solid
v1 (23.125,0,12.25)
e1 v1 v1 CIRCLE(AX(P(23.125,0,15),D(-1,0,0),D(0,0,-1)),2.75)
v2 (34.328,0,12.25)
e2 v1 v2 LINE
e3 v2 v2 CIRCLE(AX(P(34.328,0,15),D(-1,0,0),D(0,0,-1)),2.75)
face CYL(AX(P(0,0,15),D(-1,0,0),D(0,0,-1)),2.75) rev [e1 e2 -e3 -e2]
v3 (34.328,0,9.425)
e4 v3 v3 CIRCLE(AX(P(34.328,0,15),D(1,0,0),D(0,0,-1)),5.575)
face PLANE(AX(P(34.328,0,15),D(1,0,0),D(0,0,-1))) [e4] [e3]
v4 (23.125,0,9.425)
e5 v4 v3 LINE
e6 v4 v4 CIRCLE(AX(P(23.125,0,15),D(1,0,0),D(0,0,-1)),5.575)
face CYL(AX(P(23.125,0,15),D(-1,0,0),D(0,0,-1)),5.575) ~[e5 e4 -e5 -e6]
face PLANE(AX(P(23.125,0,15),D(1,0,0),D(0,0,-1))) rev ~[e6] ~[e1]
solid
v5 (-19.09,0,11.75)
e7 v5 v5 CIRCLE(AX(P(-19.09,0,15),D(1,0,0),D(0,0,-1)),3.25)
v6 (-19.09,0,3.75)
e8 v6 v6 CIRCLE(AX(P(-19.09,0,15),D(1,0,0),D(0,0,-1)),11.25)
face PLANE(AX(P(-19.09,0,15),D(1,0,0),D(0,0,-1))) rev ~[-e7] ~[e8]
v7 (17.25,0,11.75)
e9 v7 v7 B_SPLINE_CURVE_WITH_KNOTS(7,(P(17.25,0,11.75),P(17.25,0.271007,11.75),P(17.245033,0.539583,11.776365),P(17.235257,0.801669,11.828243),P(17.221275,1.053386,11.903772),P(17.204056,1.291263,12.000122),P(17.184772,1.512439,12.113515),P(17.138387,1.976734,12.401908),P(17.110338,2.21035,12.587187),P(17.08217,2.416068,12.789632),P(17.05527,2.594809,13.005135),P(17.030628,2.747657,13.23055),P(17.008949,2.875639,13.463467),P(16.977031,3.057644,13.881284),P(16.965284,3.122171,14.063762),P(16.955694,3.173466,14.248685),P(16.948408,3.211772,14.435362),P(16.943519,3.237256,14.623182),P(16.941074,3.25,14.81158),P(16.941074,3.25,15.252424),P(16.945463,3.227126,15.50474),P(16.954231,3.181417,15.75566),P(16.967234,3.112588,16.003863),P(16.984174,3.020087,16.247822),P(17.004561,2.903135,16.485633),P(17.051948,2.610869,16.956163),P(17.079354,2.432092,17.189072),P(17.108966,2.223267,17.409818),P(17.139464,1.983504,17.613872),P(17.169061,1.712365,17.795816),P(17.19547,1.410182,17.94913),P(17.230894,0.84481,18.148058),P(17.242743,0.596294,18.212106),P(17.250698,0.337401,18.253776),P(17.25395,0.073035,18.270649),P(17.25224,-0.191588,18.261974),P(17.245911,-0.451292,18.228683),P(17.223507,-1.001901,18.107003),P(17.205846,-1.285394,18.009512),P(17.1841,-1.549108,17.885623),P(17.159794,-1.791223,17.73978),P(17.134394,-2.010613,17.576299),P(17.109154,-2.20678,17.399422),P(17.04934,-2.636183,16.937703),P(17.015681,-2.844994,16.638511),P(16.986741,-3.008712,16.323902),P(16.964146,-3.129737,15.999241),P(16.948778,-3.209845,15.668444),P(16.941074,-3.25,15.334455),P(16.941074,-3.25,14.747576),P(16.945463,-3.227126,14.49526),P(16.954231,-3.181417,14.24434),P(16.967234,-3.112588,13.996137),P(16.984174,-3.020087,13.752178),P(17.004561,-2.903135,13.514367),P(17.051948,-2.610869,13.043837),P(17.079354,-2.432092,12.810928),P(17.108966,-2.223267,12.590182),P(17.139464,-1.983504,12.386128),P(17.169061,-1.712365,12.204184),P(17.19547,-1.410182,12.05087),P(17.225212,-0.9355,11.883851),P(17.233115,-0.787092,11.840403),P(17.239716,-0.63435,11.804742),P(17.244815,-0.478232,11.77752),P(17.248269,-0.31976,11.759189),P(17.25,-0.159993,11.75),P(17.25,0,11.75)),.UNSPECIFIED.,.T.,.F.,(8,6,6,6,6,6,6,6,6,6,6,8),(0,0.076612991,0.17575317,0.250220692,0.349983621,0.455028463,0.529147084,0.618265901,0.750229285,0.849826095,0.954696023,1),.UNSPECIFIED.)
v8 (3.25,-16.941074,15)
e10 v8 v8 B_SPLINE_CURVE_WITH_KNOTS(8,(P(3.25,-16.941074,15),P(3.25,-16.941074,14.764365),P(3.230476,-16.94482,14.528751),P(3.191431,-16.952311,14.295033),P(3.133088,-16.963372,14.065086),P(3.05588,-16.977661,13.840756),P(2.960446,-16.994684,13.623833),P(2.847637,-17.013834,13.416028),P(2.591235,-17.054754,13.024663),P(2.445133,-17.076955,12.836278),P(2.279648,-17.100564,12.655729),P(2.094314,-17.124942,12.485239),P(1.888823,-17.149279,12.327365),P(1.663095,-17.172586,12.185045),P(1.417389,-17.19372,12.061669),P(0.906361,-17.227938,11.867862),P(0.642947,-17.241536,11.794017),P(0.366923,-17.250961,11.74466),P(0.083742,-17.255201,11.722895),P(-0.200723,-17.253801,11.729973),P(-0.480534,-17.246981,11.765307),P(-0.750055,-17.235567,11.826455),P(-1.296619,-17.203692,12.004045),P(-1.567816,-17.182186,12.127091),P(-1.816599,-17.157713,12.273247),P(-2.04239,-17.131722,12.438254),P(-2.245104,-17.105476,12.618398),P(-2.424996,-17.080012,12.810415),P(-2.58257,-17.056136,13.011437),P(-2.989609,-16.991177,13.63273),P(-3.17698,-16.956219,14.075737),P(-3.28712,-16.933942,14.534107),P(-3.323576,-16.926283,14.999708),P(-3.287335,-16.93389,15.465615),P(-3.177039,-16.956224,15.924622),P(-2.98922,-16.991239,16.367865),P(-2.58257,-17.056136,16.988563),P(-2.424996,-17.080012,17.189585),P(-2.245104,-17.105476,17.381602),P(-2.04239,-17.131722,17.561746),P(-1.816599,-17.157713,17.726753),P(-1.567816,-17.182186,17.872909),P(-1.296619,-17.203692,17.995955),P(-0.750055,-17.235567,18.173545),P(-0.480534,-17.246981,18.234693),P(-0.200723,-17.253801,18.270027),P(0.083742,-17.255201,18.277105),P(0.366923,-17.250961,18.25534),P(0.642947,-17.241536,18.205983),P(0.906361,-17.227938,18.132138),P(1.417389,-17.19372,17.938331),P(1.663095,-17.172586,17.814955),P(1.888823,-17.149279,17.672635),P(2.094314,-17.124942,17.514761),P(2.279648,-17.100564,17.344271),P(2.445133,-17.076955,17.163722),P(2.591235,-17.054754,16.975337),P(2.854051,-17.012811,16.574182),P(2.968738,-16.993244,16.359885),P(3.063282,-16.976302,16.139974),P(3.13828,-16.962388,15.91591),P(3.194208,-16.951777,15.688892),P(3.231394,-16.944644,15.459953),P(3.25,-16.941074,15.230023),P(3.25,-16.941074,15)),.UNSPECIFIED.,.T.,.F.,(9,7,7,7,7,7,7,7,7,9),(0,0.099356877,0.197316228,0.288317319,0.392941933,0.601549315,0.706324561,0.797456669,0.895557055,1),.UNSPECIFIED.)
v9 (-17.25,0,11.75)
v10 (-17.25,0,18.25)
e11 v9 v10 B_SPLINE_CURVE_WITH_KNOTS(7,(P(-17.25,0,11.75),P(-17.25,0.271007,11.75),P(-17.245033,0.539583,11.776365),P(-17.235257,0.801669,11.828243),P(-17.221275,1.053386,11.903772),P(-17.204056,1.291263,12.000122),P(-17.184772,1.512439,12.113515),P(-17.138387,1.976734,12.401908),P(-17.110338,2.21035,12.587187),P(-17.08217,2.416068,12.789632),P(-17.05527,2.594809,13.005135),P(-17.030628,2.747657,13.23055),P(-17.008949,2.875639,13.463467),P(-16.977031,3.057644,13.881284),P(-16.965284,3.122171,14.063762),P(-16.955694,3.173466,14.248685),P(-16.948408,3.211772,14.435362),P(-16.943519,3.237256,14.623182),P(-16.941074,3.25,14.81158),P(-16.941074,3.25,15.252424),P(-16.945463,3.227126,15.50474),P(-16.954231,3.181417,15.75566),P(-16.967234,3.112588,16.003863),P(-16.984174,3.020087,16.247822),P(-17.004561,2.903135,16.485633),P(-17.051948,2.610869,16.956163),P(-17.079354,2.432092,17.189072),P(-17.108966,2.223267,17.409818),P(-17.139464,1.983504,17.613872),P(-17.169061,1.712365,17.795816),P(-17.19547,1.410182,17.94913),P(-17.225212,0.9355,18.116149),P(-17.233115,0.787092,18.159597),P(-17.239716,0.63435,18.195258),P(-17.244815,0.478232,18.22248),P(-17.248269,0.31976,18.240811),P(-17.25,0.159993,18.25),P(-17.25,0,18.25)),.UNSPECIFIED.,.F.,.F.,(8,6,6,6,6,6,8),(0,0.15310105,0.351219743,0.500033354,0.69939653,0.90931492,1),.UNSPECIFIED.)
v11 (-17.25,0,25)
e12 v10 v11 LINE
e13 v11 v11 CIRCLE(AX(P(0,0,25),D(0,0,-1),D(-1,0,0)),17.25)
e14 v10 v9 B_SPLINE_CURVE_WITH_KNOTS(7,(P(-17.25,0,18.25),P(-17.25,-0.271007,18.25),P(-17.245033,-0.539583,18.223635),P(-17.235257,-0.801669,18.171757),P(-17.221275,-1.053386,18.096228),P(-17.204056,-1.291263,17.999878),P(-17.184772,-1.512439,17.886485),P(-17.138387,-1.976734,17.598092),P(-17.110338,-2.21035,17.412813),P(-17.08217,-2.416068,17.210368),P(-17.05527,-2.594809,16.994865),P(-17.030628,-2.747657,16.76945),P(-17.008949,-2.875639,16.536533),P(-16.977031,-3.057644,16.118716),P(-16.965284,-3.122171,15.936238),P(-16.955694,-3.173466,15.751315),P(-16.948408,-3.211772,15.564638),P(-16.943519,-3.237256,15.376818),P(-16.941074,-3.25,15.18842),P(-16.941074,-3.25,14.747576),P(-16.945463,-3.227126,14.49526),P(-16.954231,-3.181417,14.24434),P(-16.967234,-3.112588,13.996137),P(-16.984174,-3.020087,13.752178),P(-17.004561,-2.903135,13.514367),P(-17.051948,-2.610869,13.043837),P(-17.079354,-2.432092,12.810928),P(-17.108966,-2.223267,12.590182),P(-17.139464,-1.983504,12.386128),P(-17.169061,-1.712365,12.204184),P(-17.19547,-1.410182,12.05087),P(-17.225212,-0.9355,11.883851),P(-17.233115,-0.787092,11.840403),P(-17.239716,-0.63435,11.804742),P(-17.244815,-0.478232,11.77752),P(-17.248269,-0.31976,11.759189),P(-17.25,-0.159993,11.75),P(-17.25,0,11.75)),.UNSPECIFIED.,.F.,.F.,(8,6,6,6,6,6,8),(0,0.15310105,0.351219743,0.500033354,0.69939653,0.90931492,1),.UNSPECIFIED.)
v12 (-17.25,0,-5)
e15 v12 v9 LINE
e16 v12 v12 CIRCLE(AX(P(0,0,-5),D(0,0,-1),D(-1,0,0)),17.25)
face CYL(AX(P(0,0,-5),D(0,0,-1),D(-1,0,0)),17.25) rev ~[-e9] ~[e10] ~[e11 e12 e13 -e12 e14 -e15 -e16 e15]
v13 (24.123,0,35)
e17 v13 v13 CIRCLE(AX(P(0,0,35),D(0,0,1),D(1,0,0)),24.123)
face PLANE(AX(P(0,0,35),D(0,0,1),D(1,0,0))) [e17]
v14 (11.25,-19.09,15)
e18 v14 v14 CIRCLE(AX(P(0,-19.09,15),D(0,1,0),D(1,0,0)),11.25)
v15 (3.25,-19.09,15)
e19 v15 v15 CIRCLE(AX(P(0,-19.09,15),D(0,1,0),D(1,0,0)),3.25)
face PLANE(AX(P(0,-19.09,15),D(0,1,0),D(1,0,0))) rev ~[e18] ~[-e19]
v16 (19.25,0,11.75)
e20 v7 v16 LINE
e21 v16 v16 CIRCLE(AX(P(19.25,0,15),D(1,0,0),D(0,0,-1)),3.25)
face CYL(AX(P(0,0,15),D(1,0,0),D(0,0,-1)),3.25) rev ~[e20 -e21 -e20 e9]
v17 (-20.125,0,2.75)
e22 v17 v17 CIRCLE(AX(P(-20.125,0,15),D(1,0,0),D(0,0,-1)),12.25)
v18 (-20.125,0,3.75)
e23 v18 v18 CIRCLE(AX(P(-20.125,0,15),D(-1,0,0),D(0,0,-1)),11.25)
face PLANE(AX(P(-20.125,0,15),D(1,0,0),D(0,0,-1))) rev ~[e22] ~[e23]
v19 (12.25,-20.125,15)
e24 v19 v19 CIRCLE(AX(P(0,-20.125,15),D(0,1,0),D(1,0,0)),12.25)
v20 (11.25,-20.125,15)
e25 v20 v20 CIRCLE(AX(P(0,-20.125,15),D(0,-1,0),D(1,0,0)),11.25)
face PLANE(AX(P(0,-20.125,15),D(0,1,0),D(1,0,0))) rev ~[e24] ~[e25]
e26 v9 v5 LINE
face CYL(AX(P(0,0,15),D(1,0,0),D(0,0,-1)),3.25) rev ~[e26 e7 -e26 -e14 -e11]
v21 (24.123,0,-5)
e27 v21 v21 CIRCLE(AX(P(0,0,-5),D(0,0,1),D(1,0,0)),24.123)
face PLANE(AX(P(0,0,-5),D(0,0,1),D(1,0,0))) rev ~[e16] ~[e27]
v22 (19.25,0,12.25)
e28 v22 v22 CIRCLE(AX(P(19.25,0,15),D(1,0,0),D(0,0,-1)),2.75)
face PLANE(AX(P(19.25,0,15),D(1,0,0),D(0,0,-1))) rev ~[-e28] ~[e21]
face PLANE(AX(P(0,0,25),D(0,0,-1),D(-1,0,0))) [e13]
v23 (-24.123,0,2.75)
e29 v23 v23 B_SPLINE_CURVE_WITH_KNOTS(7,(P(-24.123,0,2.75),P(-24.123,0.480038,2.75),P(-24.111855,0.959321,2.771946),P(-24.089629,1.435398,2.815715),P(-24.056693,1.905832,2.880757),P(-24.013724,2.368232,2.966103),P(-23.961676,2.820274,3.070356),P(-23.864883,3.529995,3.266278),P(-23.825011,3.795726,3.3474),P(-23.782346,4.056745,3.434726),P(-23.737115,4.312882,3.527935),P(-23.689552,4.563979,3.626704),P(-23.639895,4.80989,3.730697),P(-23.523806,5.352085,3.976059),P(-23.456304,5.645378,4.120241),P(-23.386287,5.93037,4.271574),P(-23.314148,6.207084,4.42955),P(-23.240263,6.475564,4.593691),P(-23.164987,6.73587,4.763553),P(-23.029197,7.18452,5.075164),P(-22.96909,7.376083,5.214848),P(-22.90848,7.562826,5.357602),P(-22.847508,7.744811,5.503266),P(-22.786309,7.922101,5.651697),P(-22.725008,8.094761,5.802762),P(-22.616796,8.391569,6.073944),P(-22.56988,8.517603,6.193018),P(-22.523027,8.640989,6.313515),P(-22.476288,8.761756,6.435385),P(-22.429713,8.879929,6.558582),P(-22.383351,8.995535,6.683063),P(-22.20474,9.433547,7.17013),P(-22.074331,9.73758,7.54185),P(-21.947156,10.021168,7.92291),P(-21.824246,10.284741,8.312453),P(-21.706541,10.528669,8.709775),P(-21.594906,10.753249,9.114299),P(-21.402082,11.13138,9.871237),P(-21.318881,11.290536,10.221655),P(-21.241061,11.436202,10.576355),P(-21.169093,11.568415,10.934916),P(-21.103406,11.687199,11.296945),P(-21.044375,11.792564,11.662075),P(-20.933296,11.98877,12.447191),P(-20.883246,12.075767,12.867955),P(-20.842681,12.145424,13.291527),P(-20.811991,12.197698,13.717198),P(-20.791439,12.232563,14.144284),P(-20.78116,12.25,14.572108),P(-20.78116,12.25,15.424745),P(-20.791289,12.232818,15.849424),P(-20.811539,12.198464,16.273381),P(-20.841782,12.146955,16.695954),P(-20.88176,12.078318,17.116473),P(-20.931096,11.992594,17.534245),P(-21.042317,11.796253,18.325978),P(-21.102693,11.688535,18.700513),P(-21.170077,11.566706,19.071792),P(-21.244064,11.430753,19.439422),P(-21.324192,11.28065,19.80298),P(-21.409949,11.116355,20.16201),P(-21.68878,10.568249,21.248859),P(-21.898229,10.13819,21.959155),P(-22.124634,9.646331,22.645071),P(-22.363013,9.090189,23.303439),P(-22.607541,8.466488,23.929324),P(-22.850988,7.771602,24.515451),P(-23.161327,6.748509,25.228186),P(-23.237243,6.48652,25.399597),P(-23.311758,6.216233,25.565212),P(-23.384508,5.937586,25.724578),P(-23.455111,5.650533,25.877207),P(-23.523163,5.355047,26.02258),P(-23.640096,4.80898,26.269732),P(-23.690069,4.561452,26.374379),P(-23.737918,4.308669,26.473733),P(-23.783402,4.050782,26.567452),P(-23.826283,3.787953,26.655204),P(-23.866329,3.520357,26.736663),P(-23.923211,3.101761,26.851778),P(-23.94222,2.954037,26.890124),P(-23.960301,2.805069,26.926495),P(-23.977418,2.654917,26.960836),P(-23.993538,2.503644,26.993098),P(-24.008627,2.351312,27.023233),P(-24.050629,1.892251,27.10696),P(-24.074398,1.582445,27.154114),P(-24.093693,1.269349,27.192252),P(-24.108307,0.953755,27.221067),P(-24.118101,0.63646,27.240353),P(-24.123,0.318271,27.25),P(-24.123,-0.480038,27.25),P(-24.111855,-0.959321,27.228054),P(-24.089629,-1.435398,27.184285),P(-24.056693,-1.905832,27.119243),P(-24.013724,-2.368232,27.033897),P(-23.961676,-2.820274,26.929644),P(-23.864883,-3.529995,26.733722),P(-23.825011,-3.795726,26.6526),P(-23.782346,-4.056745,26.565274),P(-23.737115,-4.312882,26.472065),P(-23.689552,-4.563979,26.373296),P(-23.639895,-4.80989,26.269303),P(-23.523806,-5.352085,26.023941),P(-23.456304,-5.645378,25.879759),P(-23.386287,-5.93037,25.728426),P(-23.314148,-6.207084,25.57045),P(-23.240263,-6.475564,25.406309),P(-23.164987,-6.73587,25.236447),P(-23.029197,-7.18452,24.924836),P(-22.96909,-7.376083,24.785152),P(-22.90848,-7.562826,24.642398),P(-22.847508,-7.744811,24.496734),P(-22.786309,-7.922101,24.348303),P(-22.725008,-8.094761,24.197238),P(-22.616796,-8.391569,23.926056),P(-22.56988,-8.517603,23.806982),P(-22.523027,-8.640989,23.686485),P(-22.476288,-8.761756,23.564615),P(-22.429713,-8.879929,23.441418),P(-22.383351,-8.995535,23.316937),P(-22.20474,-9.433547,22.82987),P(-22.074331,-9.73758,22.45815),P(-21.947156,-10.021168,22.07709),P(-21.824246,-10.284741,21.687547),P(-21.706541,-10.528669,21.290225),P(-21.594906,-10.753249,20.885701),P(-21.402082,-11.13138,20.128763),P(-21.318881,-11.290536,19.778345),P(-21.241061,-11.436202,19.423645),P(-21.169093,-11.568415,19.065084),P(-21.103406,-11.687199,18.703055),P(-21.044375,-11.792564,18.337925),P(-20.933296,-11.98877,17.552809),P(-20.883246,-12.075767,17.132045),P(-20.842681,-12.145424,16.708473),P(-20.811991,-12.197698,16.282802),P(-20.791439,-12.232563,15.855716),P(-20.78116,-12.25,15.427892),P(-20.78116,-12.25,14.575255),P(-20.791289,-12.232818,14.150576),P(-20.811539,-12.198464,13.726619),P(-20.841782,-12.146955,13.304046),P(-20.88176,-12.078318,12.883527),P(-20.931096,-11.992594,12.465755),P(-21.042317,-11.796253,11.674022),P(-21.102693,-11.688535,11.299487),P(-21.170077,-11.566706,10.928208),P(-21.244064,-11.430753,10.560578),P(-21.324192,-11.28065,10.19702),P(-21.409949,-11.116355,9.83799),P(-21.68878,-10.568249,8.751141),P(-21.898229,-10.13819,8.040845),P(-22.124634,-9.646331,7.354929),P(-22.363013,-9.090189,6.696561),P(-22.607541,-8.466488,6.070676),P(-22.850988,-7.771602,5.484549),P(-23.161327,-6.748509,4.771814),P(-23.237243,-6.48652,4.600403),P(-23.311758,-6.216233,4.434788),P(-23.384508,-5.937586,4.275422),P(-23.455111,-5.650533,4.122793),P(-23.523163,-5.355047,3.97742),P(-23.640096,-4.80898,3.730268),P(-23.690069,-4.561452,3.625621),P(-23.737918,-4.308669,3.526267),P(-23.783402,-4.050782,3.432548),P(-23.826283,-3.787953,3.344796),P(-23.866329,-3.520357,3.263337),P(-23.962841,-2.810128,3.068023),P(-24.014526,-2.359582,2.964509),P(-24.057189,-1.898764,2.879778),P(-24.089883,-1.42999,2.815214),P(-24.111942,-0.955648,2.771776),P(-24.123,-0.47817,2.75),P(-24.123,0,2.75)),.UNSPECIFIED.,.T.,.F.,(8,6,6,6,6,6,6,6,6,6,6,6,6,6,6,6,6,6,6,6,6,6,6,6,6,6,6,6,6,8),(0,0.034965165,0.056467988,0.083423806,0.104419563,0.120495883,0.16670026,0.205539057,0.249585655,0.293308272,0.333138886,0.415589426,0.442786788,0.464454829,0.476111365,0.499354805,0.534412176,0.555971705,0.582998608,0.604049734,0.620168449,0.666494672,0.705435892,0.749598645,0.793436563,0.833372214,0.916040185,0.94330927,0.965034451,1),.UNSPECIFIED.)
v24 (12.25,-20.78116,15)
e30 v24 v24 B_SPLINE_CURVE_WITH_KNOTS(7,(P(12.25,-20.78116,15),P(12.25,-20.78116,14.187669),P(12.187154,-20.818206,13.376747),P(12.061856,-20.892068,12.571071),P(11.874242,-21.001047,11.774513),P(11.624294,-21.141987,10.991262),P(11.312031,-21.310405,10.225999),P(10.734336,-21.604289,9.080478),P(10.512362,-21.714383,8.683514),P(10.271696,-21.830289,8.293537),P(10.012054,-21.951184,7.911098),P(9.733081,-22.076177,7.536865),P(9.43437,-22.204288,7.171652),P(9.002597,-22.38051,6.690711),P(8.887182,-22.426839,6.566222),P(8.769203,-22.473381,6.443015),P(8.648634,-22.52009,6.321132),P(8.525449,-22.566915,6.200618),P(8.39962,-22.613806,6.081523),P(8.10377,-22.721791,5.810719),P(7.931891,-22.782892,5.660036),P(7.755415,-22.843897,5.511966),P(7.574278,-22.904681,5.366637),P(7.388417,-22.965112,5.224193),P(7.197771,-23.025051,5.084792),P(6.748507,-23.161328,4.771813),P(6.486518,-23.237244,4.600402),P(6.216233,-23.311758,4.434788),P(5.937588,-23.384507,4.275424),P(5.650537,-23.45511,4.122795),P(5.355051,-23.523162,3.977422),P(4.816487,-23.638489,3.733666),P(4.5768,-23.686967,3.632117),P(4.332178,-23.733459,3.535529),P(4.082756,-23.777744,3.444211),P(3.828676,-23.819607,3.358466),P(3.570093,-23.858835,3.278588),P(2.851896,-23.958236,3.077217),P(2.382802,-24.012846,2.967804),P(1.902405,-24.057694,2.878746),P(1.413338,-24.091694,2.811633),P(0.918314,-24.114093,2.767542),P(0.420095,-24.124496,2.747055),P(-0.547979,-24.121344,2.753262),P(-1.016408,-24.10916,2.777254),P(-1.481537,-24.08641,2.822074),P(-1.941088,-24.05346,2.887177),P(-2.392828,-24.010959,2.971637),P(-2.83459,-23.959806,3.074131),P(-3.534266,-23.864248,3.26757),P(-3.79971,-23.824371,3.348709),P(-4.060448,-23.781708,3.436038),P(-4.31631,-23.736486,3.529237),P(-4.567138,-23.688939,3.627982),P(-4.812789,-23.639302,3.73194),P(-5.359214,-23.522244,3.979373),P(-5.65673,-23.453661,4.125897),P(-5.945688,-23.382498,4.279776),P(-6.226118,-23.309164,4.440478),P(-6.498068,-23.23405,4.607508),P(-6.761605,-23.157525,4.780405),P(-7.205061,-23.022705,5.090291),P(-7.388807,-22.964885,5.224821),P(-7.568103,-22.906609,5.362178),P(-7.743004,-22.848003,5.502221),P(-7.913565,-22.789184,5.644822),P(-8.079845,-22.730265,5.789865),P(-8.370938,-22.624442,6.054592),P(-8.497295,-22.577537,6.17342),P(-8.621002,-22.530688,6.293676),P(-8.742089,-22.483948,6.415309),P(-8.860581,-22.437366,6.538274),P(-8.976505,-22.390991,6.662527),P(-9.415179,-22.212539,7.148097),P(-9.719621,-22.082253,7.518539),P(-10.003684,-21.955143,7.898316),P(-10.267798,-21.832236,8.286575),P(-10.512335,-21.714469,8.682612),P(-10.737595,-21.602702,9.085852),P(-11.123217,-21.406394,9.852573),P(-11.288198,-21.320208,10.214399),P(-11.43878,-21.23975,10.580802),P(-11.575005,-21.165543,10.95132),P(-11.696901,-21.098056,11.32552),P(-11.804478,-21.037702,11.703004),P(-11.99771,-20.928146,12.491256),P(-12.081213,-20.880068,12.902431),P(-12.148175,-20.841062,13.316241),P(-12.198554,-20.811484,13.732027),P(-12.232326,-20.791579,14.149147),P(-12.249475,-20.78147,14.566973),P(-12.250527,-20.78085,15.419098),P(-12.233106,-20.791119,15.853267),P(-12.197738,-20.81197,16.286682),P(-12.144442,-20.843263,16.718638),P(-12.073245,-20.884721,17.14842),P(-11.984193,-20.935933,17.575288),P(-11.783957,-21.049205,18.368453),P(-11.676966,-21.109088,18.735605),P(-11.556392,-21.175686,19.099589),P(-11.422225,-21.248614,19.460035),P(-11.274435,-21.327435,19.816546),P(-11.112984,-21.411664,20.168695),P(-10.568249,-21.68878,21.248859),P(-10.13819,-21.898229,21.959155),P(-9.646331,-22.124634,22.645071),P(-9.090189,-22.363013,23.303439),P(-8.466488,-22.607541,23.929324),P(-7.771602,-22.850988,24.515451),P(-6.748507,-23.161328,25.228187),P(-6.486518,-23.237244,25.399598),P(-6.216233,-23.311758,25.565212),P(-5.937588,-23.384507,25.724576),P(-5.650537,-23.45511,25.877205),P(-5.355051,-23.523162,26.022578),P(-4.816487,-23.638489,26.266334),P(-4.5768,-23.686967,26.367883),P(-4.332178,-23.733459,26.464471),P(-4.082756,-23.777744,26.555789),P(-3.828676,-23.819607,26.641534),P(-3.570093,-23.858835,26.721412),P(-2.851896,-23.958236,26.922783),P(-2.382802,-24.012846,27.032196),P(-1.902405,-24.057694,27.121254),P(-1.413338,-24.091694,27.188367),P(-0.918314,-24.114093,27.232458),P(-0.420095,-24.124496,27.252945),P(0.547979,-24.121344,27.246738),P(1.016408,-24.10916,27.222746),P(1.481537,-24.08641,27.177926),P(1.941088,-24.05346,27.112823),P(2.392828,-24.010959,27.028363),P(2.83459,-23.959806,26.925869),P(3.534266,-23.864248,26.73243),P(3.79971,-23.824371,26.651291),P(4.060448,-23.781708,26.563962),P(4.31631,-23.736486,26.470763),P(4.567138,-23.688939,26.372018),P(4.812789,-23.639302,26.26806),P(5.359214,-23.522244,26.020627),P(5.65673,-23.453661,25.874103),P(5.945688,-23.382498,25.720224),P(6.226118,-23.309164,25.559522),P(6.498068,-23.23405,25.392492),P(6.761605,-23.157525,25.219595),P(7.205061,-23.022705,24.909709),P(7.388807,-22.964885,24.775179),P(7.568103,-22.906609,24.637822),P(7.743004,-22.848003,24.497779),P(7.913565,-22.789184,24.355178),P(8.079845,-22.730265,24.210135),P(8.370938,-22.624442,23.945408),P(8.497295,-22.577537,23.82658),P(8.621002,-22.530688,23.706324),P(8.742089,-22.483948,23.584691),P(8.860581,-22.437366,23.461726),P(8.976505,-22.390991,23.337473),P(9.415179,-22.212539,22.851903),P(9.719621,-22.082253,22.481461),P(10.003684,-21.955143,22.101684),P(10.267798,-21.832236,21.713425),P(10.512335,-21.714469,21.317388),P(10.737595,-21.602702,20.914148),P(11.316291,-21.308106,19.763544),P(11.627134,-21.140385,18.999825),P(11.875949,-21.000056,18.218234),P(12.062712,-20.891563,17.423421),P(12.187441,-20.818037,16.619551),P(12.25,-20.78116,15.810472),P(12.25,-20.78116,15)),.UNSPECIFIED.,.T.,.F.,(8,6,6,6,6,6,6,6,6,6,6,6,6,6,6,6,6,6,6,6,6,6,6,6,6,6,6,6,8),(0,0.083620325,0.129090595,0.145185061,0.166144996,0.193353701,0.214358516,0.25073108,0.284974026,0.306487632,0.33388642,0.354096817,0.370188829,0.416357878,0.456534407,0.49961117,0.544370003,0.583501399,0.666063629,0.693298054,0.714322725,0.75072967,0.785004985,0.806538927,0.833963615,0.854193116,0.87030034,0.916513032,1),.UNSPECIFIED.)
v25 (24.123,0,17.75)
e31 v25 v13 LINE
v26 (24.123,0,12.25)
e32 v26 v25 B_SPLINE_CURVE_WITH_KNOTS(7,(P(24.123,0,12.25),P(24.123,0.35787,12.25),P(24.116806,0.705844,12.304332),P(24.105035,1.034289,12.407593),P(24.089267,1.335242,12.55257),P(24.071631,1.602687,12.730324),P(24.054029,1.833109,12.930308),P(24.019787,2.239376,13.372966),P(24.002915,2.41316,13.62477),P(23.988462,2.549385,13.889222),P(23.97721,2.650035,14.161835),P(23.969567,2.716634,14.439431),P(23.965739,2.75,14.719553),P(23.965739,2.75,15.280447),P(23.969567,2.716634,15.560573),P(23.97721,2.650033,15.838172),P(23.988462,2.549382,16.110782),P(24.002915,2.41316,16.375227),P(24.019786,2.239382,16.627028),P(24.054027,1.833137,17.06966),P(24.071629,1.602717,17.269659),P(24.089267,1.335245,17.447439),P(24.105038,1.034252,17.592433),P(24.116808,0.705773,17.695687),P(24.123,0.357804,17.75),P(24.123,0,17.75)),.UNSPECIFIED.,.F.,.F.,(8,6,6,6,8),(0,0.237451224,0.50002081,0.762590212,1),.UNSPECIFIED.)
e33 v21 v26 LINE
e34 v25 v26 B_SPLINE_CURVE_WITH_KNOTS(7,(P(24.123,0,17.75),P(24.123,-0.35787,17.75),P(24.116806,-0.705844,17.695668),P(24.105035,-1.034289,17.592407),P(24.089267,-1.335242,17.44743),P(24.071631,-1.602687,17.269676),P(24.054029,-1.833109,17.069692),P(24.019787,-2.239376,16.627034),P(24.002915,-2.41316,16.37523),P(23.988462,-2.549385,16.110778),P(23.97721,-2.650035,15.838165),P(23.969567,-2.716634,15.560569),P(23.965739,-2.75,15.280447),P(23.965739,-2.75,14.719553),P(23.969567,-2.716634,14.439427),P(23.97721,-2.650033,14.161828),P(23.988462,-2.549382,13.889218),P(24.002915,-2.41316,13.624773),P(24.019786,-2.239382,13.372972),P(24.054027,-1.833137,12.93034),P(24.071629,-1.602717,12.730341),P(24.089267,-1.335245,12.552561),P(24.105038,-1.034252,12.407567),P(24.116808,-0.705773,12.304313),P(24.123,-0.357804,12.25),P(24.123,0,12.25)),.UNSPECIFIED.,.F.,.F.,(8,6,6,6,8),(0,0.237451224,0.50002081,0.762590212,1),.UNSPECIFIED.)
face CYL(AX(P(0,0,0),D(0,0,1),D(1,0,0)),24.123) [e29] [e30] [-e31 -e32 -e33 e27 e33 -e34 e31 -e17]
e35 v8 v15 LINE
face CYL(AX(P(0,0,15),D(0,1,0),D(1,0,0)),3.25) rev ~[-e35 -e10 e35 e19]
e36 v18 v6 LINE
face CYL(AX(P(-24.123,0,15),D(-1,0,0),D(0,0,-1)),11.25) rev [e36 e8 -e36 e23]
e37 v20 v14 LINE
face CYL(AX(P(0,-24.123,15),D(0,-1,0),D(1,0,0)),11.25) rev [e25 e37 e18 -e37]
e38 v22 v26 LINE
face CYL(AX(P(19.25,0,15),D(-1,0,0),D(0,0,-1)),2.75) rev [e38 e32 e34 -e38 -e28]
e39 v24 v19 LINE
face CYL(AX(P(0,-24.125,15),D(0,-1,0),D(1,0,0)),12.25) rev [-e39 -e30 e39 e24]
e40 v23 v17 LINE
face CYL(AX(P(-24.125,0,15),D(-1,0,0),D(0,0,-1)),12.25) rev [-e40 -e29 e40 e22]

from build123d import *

# Parameters (mm, degrees)
SKETCH1_R                = 24.123
BOSS_EXTRUDE1_DEPTH      = 35
BOSS_EXTRUDE1_DEPTH_BACK = 5
SKETCH2_R                = 3.25
CUT_EXTRUDE2_DEPTH       = 19.25
CUT_EXTRUDE2_DEPTH_BACK  = 50
SKETCH4_R                = 3.25
CUT_EXTRUDE3_DEPTH       = 200
CUT_EXTRUDE8_START       = -24.123
SKETCH5_R                = 11.25
CUT_EXTRUDE8_DEPTH       = 5.033
CUT_EXTRUDE9_START       = -24.123
SKETCH6_R                = 11.25
CUT_EXTRUDE9_DEPTH       = 5.033
SKETCH7_R                = 17.25
CUT_EXTRUDE10_DEPTH      = 30
CUT_EXTRUDE11_START      = 19.25
SKETCH8_R                = 2.75
CUT_EXTRUDE11_DEPTH      = 24.873
BOSS_EXTRUDE2_START      = 23.125
SKETCH9_R                = 5.575
BOSS_EXTRUDE2_DEPTH      = 11.203
CUT_EXTRUDE12_DEPTH      = 50
CUT_EXTRUDE13_START      = -24.125
SKETCH10_R               = 12.25
CUT_EXTRUDE13_DEPTH      = 4
CUT_EXTRUDE14_START      = -24.125
SKETCH11_R               = 12.25
CUT_EXTRUDE14_DEPTH      = 4


with BuildPart() as part:
    # Sketch1 → Boss-Extrude1 (new body, two sides)
    with BuildSketch(Plane.XY) as boss_extrude1_sk:
        Circle(SKETCH1_R)
    extrude(amount=BOSS_EXTRUDE1_DEPTH)
    extrude(boss_extrude1_sk.sketch, amount=-BOSS_EXTRUDE1_DEPTH_BACK)

    # Sketch2 → Cut-Extrude2 (cut, two sides)
    with BuildSketch(Plane(origin=(0, 0, 0), x_dir=(0, 0, -1), z_dir=(1, 0, 0))) as cut_extrude2_sk:
        with Locations((-15, 0)):
            Circle(SKETCH2_R)
    extrude(amount=CUT_EXTRUDE2_DEPTH, mode=Mode.SUBTRACT)
    extrude(cut_extrude2_sk.sketch, amount=-CUT_EXTRUDE2_DEPTH_BACK, mode=Mode.SUBTRACT)

    # Sketch4 → Cut-Extrude3 (cut)
    with BuildSketch(Plane(origin=(0, 0, 0), x_dir=(1, 0, 0), z_dir=(0, 1, 0))):
        with Locations((0, -15)):
            Circle(SKETCH4_R)
    extrude(amount=-CUT_EXTRUDE3_DEPTH, mode=Mode.SUBTRACT)

    # Sketch5 → Cut-Extrude8 (cut)
    with BuildSketch(Plane(origin=(0, 0, 0), x_dir=(0, 0, -1), z_dir=(1, 0, 0)).offset(CUT_EXTRUDE8_START)):
        with Locations((-15, 0)):
            Circle(SKETCH5_R)
    extrude(amount=CUT_EXTRUDE8_DEPTH, mode=Mode.SUBTRACT)

    # Sketch6 → Cut-Extrude9 (cut)
    with BuildSketch(Plane(origin=(0, 0, 0), x_dir=(1, 0, 0), z_dir=(0, 1, 0)).offset(CUT_EXTRUDE9_START)):
        with Locations((0, -15)):
            Circle(SKETCH6_R)
    extrude(amount=CUT_EXTRUDE9_DEPTH, mode=Mode.SUBTRACT)

    # Sketch7 → Cut-Extrude10 (cut)
    with BuildSketch(Plane(origin=(0, 0, -5), x_dir=(-1, 0, 0), z_dir=(0, 0, -1))):
        Circle(SKETCH7_R)
    extrude(amount=-CUT_EXTRUDE10_DEPTH, mode=Mode.SUBTRACT)

    # Sketch8 → Cut-Extrude11 (cut)
    with BuildSketch(Plane(origin=(0, 0, 0), x_dir=(0, 0, -1), z_dir=(1, 0, 0)).offset(CUT_EXTRUDE11_START)):
        with Locations((-15, 0)):
            Circle(SKETCH8_R)
    extrude(amount=CUT_EXTRUDE11_DEPTH, mode=Mode.SUBTRACT)

    # Sketch10 → Cut-Extrude13 (cut)
    with BuildSketch(Plane(origin=(0, 0, 0), x_dir=(0, 0, -1), z_dir=(1, 0, 0)).offset(CUT_EXTRUDE13_START)):
        with Locations((-15, 0)):
            Circle(SKETCH10_R)
    extrude(amount=CUT_EXTRUDE13_DEPTH, mode=Mode.SUBTRACT)

    # Sketch11 → Cut-Extrude14 (cut)
    with BuildSketch(Plane(origin=(0, 0, 0), x_dir=(1, 0, 0), z_dir=(0, 1, 0)).offset(CUT_EXTRUDE14_START)):
        with Locations((0, -15)):
            Circle(SKETCH11_R)
    extrude(amount=CUT_EXTRUDE14_DEPTH, mode=Mode.SUBTRACT)


with BuildPart() as body_2:
    # Sketch9 → Boss-Extrude2 (new body)
    with BuildSketch(Plane(origin=(0, 0, 0), x_dir=(0, 0, -1), z_dir=(1, 0, 0)).offset(BOSS_EXTRUDE2_START)):
        with Locations((-15, 0)):
            Circle(SKETCH9_R)
    extrude(amount=BOSS_EXTRUDE2_DEPTH)

    # Sketch8 → Cut-Extrude12 (cut)
    with BuildSketch(Plane(origin=(0, 0, 0), x_dir=(0, 0, -1), z_dir=(1, 0, 0))):
        with Locations((-15, 0)):
            Circle(SKETCH8_R)
    extrude(amount=CUT_EXTRUDE12_DEPTH, mode=Mode.SUBTRACT)


solid = Compound([part.part, body_2.part])
